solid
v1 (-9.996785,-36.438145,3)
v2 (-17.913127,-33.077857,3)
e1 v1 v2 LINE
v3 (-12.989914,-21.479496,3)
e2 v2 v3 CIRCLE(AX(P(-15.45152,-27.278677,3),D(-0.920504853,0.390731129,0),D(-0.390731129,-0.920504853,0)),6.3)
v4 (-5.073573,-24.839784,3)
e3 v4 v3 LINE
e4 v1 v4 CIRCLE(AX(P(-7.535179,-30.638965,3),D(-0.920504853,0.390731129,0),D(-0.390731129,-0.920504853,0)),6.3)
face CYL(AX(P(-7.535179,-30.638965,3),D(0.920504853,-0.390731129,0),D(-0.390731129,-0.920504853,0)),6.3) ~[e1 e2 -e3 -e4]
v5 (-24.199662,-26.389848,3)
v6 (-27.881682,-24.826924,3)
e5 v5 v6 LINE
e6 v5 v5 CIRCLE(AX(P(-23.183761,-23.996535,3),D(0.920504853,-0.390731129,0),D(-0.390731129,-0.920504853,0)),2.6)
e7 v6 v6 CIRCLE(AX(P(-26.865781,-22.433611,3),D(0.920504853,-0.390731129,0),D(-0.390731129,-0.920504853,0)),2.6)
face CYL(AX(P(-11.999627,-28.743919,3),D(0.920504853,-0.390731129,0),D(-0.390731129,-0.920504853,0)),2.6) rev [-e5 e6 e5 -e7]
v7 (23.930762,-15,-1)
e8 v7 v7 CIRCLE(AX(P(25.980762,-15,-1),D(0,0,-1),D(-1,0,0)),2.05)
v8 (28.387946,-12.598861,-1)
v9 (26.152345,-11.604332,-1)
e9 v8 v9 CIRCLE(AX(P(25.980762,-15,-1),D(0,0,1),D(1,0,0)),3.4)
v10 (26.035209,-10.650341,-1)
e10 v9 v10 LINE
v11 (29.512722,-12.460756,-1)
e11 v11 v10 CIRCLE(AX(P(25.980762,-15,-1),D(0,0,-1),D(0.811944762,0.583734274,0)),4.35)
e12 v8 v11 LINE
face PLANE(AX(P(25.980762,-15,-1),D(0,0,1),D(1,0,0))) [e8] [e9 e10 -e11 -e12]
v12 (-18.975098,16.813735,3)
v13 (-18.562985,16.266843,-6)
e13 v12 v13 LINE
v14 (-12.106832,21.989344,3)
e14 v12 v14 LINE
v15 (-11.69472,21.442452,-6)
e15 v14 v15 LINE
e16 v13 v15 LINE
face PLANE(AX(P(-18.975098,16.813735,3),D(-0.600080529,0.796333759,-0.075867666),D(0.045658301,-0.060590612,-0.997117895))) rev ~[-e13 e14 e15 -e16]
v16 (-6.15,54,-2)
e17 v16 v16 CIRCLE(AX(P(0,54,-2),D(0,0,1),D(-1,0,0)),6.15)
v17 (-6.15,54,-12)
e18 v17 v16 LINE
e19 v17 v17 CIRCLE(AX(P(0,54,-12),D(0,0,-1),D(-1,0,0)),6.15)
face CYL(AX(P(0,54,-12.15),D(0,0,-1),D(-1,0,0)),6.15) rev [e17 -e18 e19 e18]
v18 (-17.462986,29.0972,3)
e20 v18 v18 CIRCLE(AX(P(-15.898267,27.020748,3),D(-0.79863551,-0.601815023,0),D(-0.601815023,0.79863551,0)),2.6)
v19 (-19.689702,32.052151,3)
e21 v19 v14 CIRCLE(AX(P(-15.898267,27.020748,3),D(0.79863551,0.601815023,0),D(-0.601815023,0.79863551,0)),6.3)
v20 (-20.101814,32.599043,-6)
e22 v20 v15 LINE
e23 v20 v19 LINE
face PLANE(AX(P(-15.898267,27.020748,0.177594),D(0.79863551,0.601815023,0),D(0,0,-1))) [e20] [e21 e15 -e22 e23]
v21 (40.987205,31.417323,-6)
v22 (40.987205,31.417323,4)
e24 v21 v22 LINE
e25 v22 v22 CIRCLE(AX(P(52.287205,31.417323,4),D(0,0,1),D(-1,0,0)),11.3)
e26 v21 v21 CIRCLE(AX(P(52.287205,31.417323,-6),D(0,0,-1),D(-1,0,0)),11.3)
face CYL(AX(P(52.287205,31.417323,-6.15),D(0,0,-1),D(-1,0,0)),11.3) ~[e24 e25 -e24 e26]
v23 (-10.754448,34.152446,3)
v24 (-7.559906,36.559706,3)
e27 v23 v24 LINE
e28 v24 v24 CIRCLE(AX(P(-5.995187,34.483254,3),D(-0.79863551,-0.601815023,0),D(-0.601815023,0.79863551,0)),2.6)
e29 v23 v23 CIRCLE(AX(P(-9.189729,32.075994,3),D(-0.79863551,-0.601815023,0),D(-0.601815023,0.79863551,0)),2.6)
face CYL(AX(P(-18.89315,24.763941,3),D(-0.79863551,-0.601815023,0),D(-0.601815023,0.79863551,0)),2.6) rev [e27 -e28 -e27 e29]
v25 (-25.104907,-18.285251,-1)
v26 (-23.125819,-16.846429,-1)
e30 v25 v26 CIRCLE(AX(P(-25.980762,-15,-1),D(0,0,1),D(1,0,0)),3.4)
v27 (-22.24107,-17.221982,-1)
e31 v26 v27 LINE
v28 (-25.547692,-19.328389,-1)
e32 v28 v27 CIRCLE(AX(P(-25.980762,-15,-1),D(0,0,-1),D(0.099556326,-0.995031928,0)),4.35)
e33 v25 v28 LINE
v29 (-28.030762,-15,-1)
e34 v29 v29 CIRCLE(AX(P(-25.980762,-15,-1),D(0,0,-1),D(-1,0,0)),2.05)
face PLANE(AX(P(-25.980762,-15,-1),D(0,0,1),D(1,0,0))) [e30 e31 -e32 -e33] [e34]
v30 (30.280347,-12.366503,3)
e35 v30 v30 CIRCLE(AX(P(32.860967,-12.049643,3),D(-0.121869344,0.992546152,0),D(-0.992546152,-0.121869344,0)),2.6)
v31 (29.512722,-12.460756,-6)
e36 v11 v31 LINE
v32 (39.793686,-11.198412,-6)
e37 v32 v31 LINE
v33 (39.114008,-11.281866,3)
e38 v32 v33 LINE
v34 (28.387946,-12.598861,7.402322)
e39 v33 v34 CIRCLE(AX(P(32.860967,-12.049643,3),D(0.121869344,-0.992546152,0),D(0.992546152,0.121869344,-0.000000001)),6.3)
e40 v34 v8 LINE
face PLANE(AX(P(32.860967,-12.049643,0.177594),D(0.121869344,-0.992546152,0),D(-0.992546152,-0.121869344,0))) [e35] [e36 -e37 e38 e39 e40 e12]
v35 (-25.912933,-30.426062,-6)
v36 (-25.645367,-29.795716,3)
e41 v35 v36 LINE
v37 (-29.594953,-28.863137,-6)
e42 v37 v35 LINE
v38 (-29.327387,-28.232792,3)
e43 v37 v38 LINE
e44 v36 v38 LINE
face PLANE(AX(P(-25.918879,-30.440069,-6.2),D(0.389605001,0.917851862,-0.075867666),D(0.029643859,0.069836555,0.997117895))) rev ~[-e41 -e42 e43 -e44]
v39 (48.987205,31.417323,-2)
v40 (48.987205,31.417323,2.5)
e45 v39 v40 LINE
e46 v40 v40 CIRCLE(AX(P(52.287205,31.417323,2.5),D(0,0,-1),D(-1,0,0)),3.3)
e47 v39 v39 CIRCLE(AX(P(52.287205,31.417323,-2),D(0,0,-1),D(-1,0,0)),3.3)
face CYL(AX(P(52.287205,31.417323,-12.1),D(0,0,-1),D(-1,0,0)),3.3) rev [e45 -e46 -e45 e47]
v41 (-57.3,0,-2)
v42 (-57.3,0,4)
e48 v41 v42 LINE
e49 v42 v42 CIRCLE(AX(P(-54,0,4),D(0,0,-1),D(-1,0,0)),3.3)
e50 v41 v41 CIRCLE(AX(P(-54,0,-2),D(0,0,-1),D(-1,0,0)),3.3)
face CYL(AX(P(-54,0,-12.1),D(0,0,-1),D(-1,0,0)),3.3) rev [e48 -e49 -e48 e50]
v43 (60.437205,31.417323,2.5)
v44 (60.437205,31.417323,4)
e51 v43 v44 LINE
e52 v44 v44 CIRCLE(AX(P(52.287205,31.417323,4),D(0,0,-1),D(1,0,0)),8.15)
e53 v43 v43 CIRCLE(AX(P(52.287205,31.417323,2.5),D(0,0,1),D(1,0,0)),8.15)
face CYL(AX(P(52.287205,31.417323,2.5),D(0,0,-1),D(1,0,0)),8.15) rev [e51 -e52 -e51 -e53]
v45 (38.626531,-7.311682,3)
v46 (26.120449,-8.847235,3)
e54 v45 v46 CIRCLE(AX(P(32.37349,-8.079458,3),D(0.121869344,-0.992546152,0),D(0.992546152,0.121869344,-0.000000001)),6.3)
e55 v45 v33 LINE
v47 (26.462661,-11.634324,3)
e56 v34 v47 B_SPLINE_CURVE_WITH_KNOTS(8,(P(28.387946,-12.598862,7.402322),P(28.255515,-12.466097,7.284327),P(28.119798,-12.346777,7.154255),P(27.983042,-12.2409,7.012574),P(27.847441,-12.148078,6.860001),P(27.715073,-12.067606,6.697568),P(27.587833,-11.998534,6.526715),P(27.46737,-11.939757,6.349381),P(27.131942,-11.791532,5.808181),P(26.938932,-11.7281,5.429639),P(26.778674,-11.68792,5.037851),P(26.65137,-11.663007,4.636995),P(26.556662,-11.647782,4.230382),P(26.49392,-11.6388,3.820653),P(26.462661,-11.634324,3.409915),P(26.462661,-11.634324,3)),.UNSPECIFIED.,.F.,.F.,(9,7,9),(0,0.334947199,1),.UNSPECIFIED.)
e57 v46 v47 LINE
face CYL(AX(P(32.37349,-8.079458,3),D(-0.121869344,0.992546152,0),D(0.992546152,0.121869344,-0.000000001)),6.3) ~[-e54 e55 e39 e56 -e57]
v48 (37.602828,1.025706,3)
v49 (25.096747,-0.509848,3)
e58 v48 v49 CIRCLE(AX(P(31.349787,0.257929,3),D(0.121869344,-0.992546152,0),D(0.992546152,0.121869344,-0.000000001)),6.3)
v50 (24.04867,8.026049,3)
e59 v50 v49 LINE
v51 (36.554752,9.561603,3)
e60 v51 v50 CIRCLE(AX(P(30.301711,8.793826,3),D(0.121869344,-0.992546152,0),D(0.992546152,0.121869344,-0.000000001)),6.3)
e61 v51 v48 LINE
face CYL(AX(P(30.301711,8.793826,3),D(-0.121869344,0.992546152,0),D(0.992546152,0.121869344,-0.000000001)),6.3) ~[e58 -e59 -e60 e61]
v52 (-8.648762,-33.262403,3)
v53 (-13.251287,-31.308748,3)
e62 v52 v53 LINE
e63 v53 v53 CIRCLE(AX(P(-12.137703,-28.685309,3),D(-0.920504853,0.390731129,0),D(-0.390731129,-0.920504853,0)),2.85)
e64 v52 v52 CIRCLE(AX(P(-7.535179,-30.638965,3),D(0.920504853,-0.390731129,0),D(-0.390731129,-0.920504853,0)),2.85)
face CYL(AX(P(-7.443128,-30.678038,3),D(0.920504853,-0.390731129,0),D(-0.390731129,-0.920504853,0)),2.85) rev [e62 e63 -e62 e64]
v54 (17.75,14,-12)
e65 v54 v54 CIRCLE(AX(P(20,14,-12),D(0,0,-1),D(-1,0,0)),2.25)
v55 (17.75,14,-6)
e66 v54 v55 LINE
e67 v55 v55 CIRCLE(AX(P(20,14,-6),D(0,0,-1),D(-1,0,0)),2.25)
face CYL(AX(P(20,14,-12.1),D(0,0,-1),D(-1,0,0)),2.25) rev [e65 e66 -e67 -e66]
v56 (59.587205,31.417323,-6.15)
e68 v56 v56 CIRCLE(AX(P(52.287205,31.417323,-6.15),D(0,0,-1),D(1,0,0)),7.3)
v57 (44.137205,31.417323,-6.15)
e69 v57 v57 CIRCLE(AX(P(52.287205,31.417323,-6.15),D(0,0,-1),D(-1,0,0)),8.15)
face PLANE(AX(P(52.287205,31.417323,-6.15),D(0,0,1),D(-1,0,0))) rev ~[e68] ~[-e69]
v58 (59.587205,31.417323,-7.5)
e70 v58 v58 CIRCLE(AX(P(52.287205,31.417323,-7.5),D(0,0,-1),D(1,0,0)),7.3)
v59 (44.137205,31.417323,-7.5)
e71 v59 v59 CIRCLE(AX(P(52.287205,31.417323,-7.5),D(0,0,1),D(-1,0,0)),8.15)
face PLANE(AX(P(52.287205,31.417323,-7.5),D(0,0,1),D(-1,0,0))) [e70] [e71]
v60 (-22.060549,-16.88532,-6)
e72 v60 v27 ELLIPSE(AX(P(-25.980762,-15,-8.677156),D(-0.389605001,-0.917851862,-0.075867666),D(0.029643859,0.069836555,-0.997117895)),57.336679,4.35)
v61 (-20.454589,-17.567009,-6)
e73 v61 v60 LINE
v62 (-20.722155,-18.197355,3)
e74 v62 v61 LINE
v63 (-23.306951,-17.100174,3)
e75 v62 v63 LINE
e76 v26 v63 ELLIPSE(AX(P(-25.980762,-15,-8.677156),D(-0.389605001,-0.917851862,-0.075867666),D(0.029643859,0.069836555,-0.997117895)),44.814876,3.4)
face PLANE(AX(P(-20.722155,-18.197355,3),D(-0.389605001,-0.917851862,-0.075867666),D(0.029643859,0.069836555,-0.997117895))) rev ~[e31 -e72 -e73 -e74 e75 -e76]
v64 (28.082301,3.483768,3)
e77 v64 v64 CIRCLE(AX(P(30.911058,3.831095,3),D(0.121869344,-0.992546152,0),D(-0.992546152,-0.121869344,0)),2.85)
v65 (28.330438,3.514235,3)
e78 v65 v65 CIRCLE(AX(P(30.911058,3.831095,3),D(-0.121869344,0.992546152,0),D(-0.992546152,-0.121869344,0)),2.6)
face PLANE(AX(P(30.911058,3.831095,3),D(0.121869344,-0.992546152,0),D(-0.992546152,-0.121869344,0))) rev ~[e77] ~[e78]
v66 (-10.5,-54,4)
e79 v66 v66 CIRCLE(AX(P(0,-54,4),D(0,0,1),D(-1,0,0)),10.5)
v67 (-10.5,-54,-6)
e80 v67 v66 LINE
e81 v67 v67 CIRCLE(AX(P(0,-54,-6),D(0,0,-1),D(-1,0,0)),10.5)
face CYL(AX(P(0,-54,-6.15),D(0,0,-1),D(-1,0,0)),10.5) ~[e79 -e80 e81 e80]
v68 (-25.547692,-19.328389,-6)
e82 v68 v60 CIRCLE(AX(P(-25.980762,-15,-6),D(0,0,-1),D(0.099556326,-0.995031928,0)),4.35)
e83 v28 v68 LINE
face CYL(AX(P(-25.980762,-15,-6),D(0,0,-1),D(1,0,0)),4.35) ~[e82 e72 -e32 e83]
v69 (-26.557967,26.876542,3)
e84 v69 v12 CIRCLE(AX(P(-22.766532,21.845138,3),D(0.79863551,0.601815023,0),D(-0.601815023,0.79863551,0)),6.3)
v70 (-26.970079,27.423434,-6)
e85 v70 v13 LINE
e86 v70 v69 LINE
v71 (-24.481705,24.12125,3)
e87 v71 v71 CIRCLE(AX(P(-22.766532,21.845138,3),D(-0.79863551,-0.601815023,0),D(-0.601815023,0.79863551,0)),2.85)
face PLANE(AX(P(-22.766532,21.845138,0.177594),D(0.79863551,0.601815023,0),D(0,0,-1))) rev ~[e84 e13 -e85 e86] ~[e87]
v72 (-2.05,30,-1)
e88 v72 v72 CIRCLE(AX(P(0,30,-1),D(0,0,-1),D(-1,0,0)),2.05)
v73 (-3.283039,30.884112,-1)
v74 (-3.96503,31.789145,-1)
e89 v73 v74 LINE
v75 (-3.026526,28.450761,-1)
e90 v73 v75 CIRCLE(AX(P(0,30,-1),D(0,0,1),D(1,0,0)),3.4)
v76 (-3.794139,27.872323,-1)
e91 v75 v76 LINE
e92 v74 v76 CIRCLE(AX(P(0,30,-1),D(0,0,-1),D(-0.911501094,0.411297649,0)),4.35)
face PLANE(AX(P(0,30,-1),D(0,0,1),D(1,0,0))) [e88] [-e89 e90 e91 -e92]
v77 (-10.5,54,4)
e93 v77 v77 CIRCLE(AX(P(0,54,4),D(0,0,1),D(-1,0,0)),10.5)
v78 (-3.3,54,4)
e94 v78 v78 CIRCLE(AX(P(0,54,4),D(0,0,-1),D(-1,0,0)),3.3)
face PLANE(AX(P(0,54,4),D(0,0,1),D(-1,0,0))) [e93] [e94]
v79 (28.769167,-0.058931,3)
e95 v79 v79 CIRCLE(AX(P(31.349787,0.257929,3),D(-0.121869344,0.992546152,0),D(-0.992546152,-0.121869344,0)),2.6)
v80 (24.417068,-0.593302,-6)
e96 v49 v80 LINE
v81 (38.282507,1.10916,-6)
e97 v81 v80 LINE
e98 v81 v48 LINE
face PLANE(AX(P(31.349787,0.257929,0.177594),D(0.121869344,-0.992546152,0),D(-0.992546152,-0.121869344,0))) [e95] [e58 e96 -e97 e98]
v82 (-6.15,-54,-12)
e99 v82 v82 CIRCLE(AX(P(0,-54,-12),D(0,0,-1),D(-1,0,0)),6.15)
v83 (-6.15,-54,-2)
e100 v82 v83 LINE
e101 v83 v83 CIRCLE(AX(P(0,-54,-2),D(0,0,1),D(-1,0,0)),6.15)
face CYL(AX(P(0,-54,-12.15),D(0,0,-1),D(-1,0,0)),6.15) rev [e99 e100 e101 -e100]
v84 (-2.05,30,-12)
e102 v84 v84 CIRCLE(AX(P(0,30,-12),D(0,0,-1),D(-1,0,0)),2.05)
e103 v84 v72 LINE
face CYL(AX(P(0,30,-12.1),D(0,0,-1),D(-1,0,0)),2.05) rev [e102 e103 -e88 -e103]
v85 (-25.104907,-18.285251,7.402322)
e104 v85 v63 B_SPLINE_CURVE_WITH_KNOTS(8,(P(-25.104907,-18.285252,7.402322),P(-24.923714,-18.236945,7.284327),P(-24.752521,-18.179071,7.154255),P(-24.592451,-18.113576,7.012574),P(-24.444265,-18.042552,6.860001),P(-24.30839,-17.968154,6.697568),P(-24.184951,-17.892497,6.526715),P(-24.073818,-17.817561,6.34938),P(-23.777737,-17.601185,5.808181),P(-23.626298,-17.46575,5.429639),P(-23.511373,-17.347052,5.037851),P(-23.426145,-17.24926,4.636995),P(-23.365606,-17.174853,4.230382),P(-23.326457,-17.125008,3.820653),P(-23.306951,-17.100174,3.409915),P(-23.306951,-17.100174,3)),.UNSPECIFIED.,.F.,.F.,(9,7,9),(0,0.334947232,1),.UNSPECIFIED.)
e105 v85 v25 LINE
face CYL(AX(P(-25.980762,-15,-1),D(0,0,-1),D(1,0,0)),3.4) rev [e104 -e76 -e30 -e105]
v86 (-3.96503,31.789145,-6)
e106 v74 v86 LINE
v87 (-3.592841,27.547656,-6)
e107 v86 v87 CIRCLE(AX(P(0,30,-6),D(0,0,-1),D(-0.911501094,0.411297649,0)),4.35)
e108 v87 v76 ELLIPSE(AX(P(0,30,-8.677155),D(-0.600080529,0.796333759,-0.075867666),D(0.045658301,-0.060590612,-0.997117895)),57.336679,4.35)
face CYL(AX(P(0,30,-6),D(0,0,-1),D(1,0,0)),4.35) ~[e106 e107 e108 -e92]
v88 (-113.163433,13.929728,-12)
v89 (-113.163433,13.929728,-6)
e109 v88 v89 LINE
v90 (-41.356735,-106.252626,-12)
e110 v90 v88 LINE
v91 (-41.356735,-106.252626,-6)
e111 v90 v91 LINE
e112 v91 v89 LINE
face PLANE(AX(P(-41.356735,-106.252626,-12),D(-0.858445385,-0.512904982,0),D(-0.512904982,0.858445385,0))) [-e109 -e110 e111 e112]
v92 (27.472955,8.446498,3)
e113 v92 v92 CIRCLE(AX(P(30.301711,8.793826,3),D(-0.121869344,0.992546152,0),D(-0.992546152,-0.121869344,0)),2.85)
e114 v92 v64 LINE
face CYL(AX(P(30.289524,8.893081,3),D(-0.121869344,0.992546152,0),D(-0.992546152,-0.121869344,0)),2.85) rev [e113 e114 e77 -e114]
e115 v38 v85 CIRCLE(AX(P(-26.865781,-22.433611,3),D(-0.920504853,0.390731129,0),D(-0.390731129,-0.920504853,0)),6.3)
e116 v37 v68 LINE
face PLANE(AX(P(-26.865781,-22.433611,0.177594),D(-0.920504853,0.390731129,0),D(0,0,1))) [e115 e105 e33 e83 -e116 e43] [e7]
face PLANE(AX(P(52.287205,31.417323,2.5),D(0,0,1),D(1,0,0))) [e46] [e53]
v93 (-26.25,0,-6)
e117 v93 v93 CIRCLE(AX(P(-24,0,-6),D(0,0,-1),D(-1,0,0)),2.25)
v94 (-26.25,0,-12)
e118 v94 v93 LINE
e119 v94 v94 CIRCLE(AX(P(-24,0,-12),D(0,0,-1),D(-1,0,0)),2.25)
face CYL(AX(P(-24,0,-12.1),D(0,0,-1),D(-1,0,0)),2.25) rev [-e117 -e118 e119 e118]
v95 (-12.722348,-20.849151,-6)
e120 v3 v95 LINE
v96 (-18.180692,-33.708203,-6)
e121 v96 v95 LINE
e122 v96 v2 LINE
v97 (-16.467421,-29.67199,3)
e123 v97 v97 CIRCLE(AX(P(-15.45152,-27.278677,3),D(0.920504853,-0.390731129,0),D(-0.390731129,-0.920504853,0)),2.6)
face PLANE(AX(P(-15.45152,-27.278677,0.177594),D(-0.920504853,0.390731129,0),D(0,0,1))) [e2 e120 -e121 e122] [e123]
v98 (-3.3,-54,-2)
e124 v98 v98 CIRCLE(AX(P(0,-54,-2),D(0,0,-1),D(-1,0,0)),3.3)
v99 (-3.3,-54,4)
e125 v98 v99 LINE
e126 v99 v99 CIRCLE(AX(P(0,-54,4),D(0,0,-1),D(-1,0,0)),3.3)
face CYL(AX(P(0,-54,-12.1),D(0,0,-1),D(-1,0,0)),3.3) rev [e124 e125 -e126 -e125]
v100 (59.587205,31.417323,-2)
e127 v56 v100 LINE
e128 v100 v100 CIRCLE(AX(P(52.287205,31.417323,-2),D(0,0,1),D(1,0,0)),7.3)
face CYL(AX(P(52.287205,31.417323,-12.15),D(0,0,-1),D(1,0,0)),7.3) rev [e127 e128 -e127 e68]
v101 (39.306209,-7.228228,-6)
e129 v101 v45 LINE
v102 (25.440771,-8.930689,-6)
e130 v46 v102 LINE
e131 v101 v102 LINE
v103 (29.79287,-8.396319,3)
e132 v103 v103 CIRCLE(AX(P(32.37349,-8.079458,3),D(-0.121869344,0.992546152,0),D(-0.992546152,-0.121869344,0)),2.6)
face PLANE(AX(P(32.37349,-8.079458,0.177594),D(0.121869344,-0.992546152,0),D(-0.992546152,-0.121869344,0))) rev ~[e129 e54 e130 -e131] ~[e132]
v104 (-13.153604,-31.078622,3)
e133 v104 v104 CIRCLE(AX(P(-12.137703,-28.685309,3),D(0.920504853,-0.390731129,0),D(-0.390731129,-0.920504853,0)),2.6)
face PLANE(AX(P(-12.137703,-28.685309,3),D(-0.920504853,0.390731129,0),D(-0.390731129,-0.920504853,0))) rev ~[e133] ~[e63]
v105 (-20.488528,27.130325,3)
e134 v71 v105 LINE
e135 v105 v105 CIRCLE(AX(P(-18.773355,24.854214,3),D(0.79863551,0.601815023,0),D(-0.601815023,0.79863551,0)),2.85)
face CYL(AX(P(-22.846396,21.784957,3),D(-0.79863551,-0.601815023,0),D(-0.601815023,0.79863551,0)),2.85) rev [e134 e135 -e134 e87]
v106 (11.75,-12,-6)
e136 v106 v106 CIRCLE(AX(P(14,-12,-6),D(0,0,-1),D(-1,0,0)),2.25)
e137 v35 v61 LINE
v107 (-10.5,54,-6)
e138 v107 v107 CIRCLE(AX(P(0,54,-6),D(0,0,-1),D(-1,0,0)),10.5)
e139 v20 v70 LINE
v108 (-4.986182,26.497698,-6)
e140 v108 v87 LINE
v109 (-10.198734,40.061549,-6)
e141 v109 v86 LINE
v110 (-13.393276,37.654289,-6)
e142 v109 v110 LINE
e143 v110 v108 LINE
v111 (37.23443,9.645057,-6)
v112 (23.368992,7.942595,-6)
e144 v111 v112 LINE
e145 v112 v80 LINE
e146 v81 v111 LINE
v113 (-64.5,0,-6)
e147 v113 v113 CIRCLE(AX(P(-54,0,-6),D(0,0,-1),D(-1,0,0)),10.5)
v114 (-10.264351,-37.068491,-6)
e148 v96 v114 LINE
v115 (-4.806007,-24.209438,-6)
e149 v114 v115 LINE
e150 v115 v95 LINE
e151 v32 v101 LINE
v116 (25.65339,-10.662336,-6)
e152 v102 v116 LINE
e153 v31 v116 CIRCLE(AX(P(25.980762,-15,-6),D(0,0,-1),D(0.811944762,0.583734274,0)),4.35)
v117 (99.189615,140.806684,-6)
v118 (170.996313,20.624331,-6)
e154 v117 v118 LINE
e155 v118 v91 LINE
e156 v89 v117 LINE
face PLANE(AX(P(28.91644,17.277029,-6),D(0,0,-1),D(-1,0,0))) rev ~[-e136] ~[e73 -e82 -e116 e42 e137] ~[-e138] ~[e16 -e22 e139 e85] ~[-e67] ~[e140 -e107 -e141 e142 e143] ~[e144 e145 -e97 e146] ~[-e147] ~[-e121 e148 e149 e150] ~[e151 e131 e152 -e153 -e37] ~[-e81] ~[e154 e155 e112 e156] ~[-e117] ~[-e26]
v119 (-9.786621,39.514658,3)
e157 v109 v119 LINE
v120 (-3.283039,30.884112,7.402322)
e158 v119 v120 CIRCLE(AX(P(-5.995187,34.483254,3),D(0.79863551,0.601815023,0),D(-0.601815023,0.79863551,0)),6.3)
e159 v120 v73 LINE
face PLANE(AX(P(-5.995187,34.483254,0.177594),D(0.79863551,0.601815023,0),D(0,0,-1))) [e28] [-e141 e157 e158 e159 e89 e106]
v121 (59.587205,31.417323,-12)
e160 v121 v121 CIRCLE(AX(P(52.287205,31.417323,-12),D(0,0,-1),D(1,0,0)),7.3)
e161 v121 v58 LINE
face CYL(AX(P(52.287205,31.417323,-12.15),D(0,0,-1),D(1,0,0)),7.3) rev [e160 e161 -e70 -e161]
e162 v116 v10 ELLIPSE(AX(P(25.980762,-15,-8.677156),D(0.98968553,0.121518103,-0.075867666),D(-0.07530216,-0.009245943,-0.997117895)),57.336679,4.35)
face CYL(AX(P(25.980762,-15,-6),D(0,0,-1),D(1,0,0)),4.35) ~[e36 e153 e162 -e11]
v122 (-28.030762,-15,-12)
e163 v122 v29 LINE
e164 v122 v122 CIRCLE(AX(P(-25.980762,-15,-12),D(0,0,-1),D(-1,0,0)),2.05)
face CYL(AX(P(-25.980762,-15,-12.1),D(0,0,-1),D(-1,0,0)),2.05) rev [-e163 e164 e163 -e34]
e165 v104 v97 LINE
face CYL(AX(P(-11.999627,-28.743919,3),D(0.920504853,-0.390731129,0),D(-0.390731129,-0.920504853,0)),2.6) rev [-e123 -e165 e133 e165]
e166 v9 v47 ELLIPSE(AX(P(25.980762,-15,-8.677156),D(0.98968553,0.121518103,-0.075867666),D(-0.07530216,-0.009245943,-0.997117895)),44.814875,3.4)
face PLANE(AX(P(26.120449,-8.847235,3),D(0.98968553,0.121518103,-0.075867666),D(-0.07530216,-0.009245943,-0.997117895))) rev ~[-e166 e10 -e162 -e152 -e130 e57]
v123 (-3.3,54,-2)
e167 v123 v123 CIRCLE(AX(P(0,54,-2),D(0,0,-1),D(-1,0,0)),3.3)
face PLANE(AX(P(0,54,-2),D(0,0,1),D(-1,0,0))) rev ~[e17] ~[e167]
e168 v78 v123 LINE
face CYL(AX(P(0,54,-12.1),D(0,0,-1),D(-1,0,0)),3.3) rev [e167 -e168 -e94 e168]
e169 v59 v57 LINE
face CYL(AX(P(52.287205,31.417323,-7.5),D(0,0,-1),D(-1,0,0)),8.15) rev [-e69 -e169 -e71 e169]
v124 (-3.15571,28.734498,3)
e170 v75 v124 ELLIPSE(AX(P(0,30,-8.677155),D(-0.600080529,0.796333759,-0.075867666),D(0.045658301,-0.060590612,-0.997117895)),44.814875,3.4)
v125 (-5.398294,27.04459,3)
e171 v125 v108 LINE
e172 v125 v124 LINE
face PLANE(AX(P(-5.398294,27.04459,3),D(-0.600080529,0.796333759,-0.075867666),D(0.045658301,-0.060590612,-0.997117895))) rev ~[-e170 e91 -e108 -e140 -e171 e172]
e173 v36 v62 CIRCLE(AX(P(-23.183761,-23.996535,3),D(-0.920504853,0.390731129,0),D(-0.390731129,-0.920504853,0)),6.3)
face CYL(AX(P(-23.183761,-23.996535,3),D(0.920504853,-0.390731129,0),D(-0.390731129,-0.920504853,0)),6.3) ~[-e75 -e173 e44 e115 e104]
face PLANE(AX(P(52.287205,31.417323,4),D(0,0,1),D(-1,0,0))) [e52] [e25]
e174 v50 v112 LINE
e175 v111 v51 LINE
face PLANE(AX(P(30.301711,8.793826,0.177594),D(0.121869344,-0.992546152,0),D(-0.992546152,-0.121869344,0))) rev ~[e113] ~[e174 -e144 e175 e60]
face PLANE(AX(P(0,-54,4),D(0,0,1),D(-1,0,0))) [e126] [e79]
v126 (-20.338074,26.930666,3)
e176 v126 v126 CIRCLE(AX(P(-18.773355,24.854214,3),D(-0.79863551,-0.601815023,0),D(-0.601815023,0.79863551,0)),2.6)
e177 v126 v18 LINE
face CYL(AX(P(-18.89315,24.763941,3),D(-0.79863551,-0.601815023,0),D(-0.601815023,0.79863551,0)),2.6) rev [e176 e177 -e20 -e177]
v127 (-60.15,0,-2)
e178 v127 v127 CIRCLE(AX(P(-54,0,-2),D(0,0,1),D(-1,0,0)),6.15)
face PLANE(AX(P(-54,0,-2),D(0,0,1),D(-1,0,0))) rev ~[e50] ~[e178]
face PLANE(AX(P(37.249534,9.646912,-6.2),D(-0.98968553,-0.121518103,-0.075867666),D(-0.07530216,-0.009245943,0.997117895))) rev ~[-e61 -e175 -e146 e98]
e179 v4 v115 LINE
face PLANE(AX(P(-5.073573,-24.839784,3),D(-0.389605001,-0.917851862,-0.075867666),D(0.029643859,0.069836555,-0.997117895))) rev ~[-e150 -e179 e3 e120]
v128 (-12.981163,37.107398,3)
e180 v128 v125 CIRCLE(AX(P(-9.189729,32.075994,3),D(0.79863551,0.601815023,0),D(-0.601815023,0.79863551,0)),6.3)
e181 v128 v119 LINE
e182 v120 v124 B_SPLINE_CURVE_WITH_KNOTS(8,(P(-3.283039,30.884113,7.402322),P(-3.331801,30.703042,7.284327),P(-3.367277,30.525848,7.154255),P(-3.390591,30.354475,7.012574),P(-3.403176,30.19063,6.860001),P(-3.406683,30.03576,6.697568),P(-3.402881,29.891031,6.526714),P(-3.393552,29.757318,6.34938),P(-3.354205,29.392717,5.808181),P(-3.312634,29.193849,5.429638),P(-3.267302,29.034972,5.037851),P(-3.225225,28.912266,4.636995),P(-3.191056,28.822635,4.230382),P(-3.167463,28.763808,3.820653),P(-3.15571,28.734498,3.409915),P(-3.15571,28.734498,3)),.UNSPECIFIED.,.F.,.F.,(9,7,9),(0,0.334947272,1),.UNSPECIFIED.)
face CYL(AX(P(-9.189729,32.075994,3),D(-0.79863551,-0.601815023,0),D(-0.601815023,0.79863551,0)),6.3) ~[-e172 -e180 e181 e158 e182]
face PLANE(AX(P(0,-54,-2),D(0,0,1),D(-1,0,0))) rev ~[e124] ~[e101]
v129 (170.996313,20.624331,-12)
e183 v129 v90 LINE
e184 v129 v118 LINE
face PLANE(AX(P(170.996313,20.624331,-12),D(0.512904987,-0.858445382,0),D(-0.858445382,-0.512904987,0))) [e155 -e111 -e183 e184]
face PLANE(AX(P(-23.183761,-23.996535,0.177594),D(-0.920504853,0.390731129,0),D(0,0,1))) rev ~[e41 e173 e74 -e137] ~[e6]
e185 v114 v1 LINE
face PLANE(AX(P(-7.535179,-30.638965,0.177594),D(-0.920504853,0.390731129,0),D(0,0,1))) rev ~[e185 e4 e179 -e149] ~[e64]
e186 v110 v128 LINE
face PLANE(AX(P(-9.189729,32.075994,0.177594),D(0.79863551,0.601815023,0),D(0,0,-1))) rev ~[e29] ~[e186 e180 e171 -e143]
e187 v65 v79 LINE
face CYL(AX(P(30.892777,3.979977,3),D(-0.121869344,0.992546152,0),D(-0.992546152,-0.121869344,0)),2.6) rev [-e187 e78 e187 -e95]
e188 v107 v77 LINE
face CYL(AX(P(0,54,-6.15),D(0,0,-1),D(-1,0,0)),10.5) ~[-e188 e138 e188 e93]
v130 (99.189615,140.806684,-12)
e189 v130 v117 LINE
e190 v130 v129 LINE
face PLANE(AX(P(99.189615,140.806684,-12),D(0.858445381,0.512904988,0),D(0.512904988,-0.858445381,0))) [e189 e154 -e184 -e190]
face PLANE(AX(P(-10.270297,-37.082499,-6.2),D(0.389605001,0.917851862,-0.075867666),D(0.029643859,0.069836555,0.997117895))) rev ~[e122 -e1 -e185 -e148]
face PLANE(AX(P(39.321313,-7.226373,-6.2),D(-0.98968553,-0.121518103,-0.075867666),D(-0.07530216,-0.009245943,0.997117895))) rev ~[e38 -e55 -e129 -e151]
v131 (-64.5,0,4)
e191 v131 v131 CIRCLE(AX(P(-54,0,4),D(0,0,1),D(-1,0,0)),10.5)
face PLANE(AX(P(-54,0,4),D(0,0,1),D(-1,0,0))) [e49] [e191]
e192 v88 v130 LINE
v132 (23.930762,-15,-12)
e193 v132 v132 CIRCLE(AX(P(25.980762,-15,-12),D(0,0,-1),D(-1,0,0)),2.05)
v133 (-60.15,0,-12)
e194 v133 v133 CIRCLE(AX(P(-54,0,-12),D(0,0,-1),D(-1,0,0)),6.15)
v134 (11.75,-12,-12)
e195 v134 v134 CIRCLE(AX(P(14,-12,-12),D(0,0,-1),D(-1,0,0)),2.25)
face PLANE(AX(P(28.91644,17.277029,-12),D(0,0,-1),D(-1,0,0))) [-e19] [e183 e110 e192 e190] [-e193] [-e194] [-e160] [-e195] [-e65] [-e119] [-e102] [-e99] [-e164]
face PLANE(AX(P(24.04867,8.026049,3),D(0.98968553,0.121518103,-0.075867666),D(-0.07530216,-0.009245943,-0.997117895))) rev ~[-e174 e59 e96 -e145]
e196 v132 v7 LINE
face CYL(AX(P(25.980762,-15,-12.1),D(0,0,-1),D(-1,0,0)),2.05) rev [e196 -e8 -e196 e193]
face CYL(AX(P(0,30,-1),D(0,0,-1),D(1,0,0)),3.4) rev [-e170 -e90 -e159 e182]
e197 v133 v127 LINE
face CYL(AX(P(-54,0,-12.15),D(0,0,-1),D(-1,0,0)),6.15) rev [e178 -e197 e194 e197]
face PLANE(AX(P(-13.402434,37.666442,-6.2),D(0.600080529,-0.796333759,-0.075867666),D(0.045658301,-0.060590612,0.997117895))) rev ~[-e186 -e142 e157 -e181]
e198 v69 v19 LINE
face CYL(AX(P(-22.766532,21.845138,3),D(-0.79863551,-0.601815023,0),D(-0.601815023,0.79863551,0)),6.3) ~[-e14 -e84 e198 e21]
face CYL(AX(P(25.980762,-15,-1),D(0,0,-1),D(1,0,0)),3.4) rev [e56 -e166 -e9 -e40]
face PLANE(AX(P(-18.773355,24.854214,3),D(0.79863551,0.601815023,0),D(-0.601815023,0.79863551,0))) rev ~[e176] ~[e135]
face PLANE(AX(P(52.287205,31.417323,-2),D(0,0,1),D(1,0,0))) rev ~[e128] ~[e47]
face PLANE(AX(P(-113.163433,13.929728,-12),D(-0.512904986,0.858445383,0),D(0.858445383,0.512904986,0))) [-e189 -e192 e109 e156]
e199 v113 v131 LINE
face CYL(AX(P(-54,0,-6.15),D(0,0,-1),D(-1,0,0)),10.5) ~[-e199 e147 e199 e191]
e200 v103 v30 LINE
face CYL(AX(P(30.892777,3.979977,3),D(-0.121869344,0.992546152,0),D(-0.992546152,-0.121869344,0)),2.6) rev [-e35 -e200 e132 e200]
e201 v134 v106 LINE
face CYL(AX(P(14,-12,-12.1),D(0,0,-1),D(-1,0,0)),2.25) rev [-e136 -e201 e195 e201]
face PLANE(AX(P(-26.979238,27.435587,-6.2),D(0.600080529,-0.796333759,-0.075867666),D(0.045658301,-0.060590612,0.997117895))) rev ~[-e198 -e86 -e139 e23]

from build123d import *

# Parameters (mm, degrees)
F_01_START                                    = -12
F_01_PULLED_END_PLATE_OUTLINE_DEPTH           = 6
F_02_START                                    = -12.1
S02_CAGE_AND_TRACK_MOUNTING_HOLES_M6_R        = 3.3
F_02_CAGE_AND_TRACK_MOUNTING_HOLES_M6_DEPTH   = 6.2
F_03_START                                    = -12.1
S03_RESERVED_CASSETTE_PATTERN_M4_R            = 2.25
F_03_RESERVED_CASSETTE_PATTERN_M4_DEPTH       = 6.2
F_04_START                                    = -7.5
S04_TRACK_POST_LOCATING_SEAT_R                = 8.15
F_04_TRACK_POST_LOCATING_SEAT_DEPTH           = 1.6
F_05_START                                    = -6
S05_THREE_TENDON_GUIDE_BOSSES_R               = 4.35
F_05_THREE_TENDON_GUIDE_BOSSES_DEPTH          = 5
F_06_START                                    = 4.2
F_06_PIVOT_1_NEAR_CHEEK_DEPTH                 = 4
F_07_START                                    = -12.8
F_07_PIVOT_1_INSERT_CHEEK_DEPTH               = 8.6
F_08_START                                    = -12.9
S08_PIVOT_1_PIN_PILOT_R                       = 2.1
F_08_PIVOT_1_PIN_PILOT_DEPTH                  = 21.2
F_09_START                                    = -7.95
S09_PIVOT_1_SMOOTH_SHOULDER_BEARING_R         = 2.6
F_09_PIVOT_1_SMOOTH_SHOULDER_BEARING_DEPTH    = 16.25
F_10_START                                    = -12.9
S10_PIVOT_1_M4_SHORT_INSERT_SEAT_R            = 2.85
F_10_PIVOT_1_M4_SHORT_INSERT_SEAT_DEPTH       = 5.1
F_11_START                                    = 4.2
F_11_PIVOT_2_NEAR_CHEEK_DEPTH                 = 4
F_12_START                                    = -12.8
F_12_PIVOT_2_INSERT_CHEEK_DEPTH               = 8.6
F_13_START                                    = -12.9
S13_PIVOT_2_PIN_PILOT_R                       = 2.1
F_13_PIVOT_2_PIN_PILOT_DEPTH                  = 21.2
F_14_START                                    = -7.95
S14_PIVOT_2_SMOOTH_SHOULDER_BEARING_R         = 2.6
F_14_PIVOT_2_SMOOTH_SHOULDER_BEARING_DEPTH    = 16.25
F_15_START                                    = -12.9
S15_PIVOT_2_M4_SHORT_INSERT_SEAT_R            = 2.85
F_15_PIVOT_2_M4_SHORT_INSERT_SEAT_DEPTH       = 5.1
F_16_START                                    = 4.2
F_16_PIVOT_3_NEAR_CHEEK_DEPTH                 = 4
F_17_START                                    = -12.8
F_17_PIVOT_3_INSERT_CHEEK_DEPTH               = 8.6
F_18_START                                    = -12.9
S18_PIVOT_3_PIN_PILOT_R                       = 2.1
F_18_PIVOT_3_PIN_PILOT_DEPTH                  = 21.2
F_19_START                                    = -7.95
S19_PIVOT_3_SMOOTH_SHOULDER_BEARING_R         = 2.6
F_19_PIVOT_3_SMOOTH_SHOULDER_BEARING_DEPTH    = 16.25
F_20_START                                    = -12.9
S20_PIVOT_3_M4_SHORT_INSERT_SEAT_R            = 2.85
F_20_PIVOT_3_M4_SHORT_INSERT_SEAT_DEPTH       = 5.1
F_21_START                                    = -12.1
S21_TENDON_EYELET_SEATS_R                     = 2.05
F_21_TENDON_EYELET_SEATS_DEPTH                = 11.2
F_22_START                                    = -1
S22_CLEAR_THE_THREE_EYELET_FLANGES_AND_R      = 3.4
F_22_CLEAR_THE_THREE_EYELET_FLANGES_AND_DEPTH = 12
F_01_START_2                                  = -6.15
S01_RAISED_CAGE_SEATS_10_MM_R                 = 10.5
S01_RAISED_CAGE_SEATS_10_MM_R_2               = 11.3
F_01_RAISED_CAGE_SEATS_10_MM_DEPTH            = 10.15
S02_CAGE_SCREW_THROUGH_HOLES_R                = 3.3
F_02_CAGE_SCREW_THROUGH_HOLES_DEPTH           = 16.2
F_03_START_2                                  = -12.15
S03_RECESSED_FRAME_SCREW_HEAD_SEATS_R         = 6.15
F_03_RECESSED_FRAME_SCREW_HEAD_SEATS_DEPTH    = 10.15
F_04_START_2                                  = -12.15
S04_RECESSED_TRACK_POST_WASHER_SEAT_R         = 7.3
F_04_RECESSED_TRACK_POST_WASHER_SEAT_DEPTH    = 10.15
F_05_START_2                                  = 2.5
S05_TRACK_POST_LOCATION_REGISTER_R            = 8.15
F_05_TRACK_POST_LOCATION_REGISTER_DEPTH       = 1.6


with BuildPart() as part:
    # S01 - Pulled end plate outline → 01 - Pulled end plate outline (new body)
    with BuildSketch(Plane.XY.offset(F_01_START)):
        Polygon((170.996313, 20.6243307), (-41.3567354, -106.252626), (-113.163433, 13.929728), (99.1896147, 140.806684), align=None)
    extrude(amount=F_01_PULLED_END_PLATE_OUTLINE_DEPTH)

    # S02 - Cage and track mounting holes - M6 → 02 - Cage and track mounting holes - M6 (cut)
    with BuildSketch(Plane.XY.offset(F_02_START)):
        with Locations((0, 54)):
            Circle(S02_CAGE_AND_TRACK_MOUNTING_HOLES_M6_R)
        with Locations((-54, 0)):
            Circle(S02_CAGE_AND_TRACK_MOUNTING_HOLES_M6_R)
        with Locations((0, -54)):
            Circle(S02_CAGE_AND_TRACK_MOUNTING_HOLES_M6_R)
        with Locations((52.287205346, 31.41732257)):
            Circle(S02_CAGE_AND_TRACK_MOUNTING_HOLES_M6_R)
    extrude(amount=F_02_CAGE_AND_TRACK_MOUNTING_HOLES_M6_DEPTH, mode=Mode.SUBTRACT)

    # S03 - Reserved cassette pattern - M4 → 03 - Reserved cassette pattern - M4 (cut)
    with BuildSketch(Plane.XY.offset(F_03_START)):
        with Locations((14, -12)):
            Circle(S03_RESERVED_CASSETTE_PATTERN_M4_R)
        with Locations((20, 14)):
            Circle(S03_RESERVED_CASSETTE_PATTERN_M4_R)
        with Locations((-24, 0)):
            Circle(S03_RESERVED_CASSETTE_PATTERN_M4_R)
    extrude(amount=F_03_RESERVED_CASSETTE_PATTERN_M4_DEPTH, mode=Mode.SUBTRACT)

    # S04 - Track post locating seat → 04 - Track post locating seat (cut)
    with BuildSketch(Plane.XY.offset(F_04_START)):
        with Locations((52.287205346, 31.41732257)):
            Circle(S04_TRACK_POST_LOCATING_SEAT_R)
    extrude(amount=F_04_TRACK_POST_LOCATING_SEAT_DEPTH, mode=Mode.SUBTRACT)

    # S05 - Three tendon guide bosses → 05 - Three tendon guide bosses (add)
    with BuildSketch(Plane.XY.offset(F_05_START)):
        with Locations((25.980762114, -15)):
            Circle(S05_THREE_TENDON_GUIDE_BOSSES_R)
        with Locations((0, 30)):
            Circle(S05_THREE_TENDON_GUIDE_BOSSES_R)
        with Locations((-25.980762114, -15)):
            Circle(S05_THREE_TENDON_GUIDE_BOSSES_R)
    extrude(amount=F_05_THREE_TENDON_GUIDE_BOSSES_DEPTH)

    # S06 - Pivot 1 - near cheek → 06 - Pivot 1 - near cheek (add)
    with BuildSketch(Plane(origin=(0.946263216, -7.706695423, 0), x_dir=(-0.9925461516079791, -0.12186934367670445, 0), z_dir=(0.12186934367670443, -0.992546151607979, 0)).offset(F_06_START)):
        with BuildLine():
            Line((-24.147544543, 6.2), (-38.147544535, 6.2))
            Line((-38.147544535, 6.2), (-37.447544535, -3))
            ThreePointArc((-37.447544535, -3), (-31.147544539, -9.3), (-24.847544543, -3))
            Line((-24.847544543, -3), (-24.147544543, 6.2))
        make_face()
    extrude(amount=F_06_PIVOT_1_NEAR_CHEEK_DEPTH)

    # S07 - Pivot 1 - insert cheek → 07 - Pivot 1 - insert cheek (add)
    with BuildSketch(Plane(origin=(0.946263216, -7.706695423, 0), x_dir=(-0.9925461516079791, -0.12186934367670445, 0), z_dir=(0.12186934367670443, -0.992546151607979, 0)).offset(F_07_START)):
        with BuildLine():
            Line((-24.147544543, 6.2), (-38.147544535, 6.2))
            Line((-38.147544535, 6.2), (-37.447544535, -3))
            ThreePointArc((-37.447544535, -3), (-31.147544539, -9.3), (-24.847544543, -3))
            Line((-24.847544543, -3), (-24.147544543, 6.2))
        make_face()
    extrude(amount=F_07_PIVOT_1_INSERT_CHEEK_DEPTH)

    # S08 - Pivot 1 - pin pilot → 08 - Pivot 1 - pin pilot (cut)
    with BuildSketch(Plane(origin=(0.946263216, -7.706695423, 0), x_dir=(-0.9925461516079791, -0.12186934367670445, 0), z_dir=(0.12186934367670443, -0.992546151607979, 0)).offset(F_08_START)):
        with Locations((-31.147544539, -3)):
            Circle(S08_PIVOT_1_PIN_PILOT_R)
    extrude(amount=F_08_PIVOT_1_PIN_PILOT_DEPTH, mode=Mode.SUBTRACT)

    # S09 - Pivot 1 - smooth shoulder bearing → 09 - Pivot 1 - smooth shoulder bearing (cut)
    with BuildSketch(Plane(origin=(0.946263216, -7.706695423, 0), x_dir=(-0.9925461516079791, -0.12186934367670445, 0), z_dir=(0.12186934367670443, -0.992546151607979, 0)).offset(F_09_START)):
        with Locations((-31.147544539, -3)):
            Circle(S09_PIVOT_1_SMOOTH_SHOULDER_BEARING_R)
    extrude(amount=F_09_PIVOT_1_SMOOTH_SHOULDER_BEARING_DEPTH, mode=Mode.SUBTRACT)

    # S10 - Pivot 1 - M4 short insert seat → 10 - Pivot 1 - M4 short insert seat (cut)
    with BuildSketch(Plane(origin=(0.946263216, -7.706695423, 0), x_dir=(-0.9925461516079791, -0.12186934367670445, 0), z_dir=(0.12186934367670443, -0.992546151607979, 0)).offset(F_10_START)):
        with Locations((-31.147544539, -3)):
            Circle(S10_PIVOT_1_M4_SHORT_INSERT_SEAT_R)
    extrude(amount=F_10_PIVOT_1_M4_SHORT_INSERT_SEAT_DEPTH, mode=Mode.SUBTRACT)

    # S11 - Pivot 2 - near cheek → 11 - Pivot 2 - near cheek (add)
    with BuildSketch(Plane(origin=(6.201062381, 4.672835668, 0), x_dir=(0, 0, -1), z_dir=(0.7986355103156061, 0.6018150227959849, 0)).offset(F_11_START)):
        with BuildLine():
            Line((6.2, 24.14754453), (6.2, 38.147544534))
            Line((6.2, 38.147544534), (-3, 37.447544534))
            ThreePointArc((-3, 37.447544534), (-9.3, 31.147544532), (-3, 24.84754453))
            Line((-3, 24.84754453), (6.2, 24.14754453))
        make_face()
    extrude(amount=F_11_PIVOT_2_NEAR_CHEEK_DEPTH)

    # S12 - Pivot 2 - insert cheek → 12 - Pivot 2 - insert cheek (add)
    with BuildSketch(Plane(origin=(6.201062381, 4.672835668, 0), x_dir=(0, 0, -1), z_dir=(0.7986355103156061, 0.6018150227959849, 0)).offset(F_12_START)):
        with BuildLine():
            Line((6.2, 24.14754453), (6.2, 38.147544534))
            Line((6.2, 38.147544534), (-3, 37.447544534))
            ThreePointArc((-3, 37.447544534), (-9.3, 31.147544532), (-3, 24.84754453))
            Line((-3, 24.84754453), (6.2, 24.14754453))
        make_face()
    extrude(amount=F_12_PIVOT_2_INSERT_CHEEK_DEPTH)

    # S13 - Pivot 2 - pin pilot → 13 - Pivot 2 - pin pilot (cut)
    with BuildSketch(Plane(origin=(6.201062381, 4.672835668, 0), x_dir=(0, 0, -1), z_dir=(0.7986355103156061, 0.6018150227959849, 0)).offset(F_13_START)):
        with Locations((-3, 31.147544532)):
            Circle(S13_PIVOT_2_PIN_PILOT_R)
    extrude(amount=F_13_PIVOT_2_PIN_PILOT_DEPTH, mode=Mode.SUBTRACT)

    # S14 - Pivot 2 - smooth shoulder bearing → 14 - Pivot 2 - smooth shoulder bearing (cut)
    with BuildSketch(Plane(origin=(6.201062381, 4.672835668, 0), x_dir=(0, 0, -1), z_dir=(0.7986355103156061, 0.6018150227959849, 0)).offset(F_14_START)):
        with Locations((-3, 31.147544532)):
            Circle(S14_PIVOT_2_SMOOTH_SHOULDER_BEARING_R)
    extrude(amount=F_14_PIVOT_2_SMOOTH_SHOULDER_BEARING_DEPTH, mode=Mode.SUBTRACT)

    # S15 - Pivot 2 - M4 short insert seat → 15 - Pivot 2 - M4 short insert seat (cut)
    with BuildSketch(Plane(origin=(6.201062381, 4.672835668, 0), x_dir=(0, 0, -1), z_dir=(0.7986355103156061, 0.6018150227959849, 0)).offset(F_15_START)):
        with Locations((-3, 31.147544532)):
            Circle(S15_PIVOT_2_M4_SHORT_INSERT_SEAT_R)
    extrude(amount=F_15_PIVOT_2_M4_SHORT_INSERT_SEAT_DEPTH, mode=Mode.SUBTRACT)

    # S16 - Pivot 3 - near cheek → 16 - Pivot 3 - near cheek (add)
    with BuildSketch(Plane(origin=(-7.147325625, 3.033859732, 0), x_dir=(0, 0, 1), z_dir=(-0.9205048534161142, 0.39073112857485304, 0)).offset(F_16_START)):
        with BuildLine():
            Line((-6.2, -24.147544532), (-6.2, -38.14754453))
            Line((-6.2, -38.14754453), (3, -37.44754453))
            ThreePointArc((3, -37.44754453), (9.3, -31.147544531), (3, -24.847544531))
            Line((3, -24.847544531), (-6.2, -24.147544532))
        make_face()
    extrude(amount=F_16_PIVOT_3_NEAR_CHEEK_DEPTH)

    # S17 - Pivot 3 - insert cheek → 17 - Pivot 3 - insert cheek (add)
    with BuildSketch(Plane(origin=(-7.147325625, 3.033859732, 0), x_dir=(0, 0, 1), z_dir=(-0.9205048534161142, 0.39073112857485304, 0)).offset(F_17_START)):
        with BuildLine():
            Line((-6.2, -24.147544532), (-6.2, -38.14754453))
            Line((-6.2, -38.14754453), (3, -37.44754453))
            ThreePointArc((3, -37.44754453), (9.3, -31.147544531), (3, -24.847544531))
            Line((3, -24.847544531), (-6.2, -24.147544532))
        make_face()
    extrude(amount=F_17_PIVOT_3_INSERT_CHEEK_DEPTH)

    # S18 - Pivot 3 - pin pilot → 18 - Pivot 3 - pin pilot (cut)
    with BuildSketch(Plane(origin=(-7.147325625, 3.033859732, 0), x_dir=(0, 0, 1), z_dir=(-0.9205048534161142, 0.39073112857485304, 0)).offset(F_18_START)):
        with Locations((3, -31.147544531)):
            Circle(S18_PIVOT_3_PIN_PILOT_R)
    extrude(amount=F_18_PIVOT_3_PIN_PILOT_DEPTH, mode=Mode.SUBTRACT)

    # S19 - Pivot 3 - smooth shoulder bearing → 19 - Pivot 3 - smooth shoulder bearing (cut)
    with BuildSketch(Plane(origin=(-7.147325625, 3.033859732, 0), x_dir=(0, 0, 1), z_dir=(-0.9205048534161142, 0.39073112857485304, 0)).offset(F_19_START)):
        with Locations((3, -31.147544531)):
            Circle(S19_PIVOT_3_SMOOTH_SHOULDER_BEARING_R)
    extrude(amount=F_19_PIVOT_3_SMOOTH_SHOULDER_BEARING_DEPTH, mode=Mode.SUBTRACT)

    # S20 - Pivot 3 - M4 short insert seat → 20 - Pivot 3 - M4 short insert seat (cut)
    with BuildSketch(Plane(origin=(-7.147325625, 3.033859732, 0), x_dir=(0, 0, 1), z_dir=(-0.9205048534161142, 0.39073112857485304, 0)).offset(F_20_START)):
        with Locations((3, -31.147544531)):
            Circle(S20_PIVOT_3_M4_SHORT_INSERT_SEAT_R)
    extrude(amount=F_20_PIVOT_3_M4_SHORT_INSERT_SEAT_DEPTH, mode=Mode.SUBTRACT)

    # S21 - Tendon eyelet seats → 21 - Tendon eyelet seats (cut)
    with BuildSketch(Plane.XY.offset(F_21_START)):
        with Locations((25.980762114, -15)):
            Circle(S21_TENDON_EYELET_SEATS_R)
        with Locations((0, 30)):
            Circle(S21_TENDON_EYELET_SEATS_R)
        with Locations((-25.980762114, -15)):
            Circle(S21_TENDON_EYELET_SEATS_R)
    extrude(amount=F_21_TENDON_EYELET_SEATS_DEPTH, mode=Mode.SUBTRACT)

    # S22 - Clear the three eyelet flanges and cord exits → 22 - Clear the three eyelet flanges and cord exits (cut)
    with BuildSketch(Plane.XY.offset(F_22_START)):
        with Locations((25.980762114, -15)):
            Circle(S22_CLEAR_THE_THREE_EYELET_FLANGES_AND_R)
        with Locations((0, 30)):
            Circle(S22_CLEAR_THE_THREE_EYELET_FLANGES_AND_R)
        with Locations((-25.980762114, -15)):
            Circle(S22_CLEAR_THE_THREE_EYELET_FLANGES_AND_R)
    extrude(amount=F_22_CLEAR_THE_THREE_EYELET_FLANGES_AND_DEPTH, mode=Mode.SUBTRACT)

    # S01 - Raised cage seats - 10 mm → 01 - Raised cage seats - 10 mm (add)
    with BuildSketch(Plane.XY.offset(F_01_START_2)):
        with Locations((0, 54)):
            Circle(S01_RAISED_CAGE_SEATS_10_MM_R)
        with Locations((-54, 0)):
            Circle(S01_RAISED_CAGE_SEATS_10_MM_R)
        with Locations((0, -54)):
            Circle(S01_RAISED_CAGE_SEATS_10_MM_R)
        with Locations((52.287205346, 31.41732257)):
            Circle(S01_RAISED_CAGE_SEATS_10_MM_R_2)
    extrude(amount=F_01_RAISED_CAGE_SEATS_10_MM_DEPTH)

    # S02 - Cage screw through holes → 02 - Cage screw through holes (cut)
    with BuildSketch(Plane.XY.offset(F_02_START)):
        with Locations((0, 54)):
            Circle(S02_CAGE_SCREW_THROUGH_HOLES_R)
        with Locations((-54, 0)):
            Circle(S02_CAGE_SCREW_THROUGH_HOLES_R)
        with Locations((0, -54)):
            Circle(S02_CAGE_SCREW_THROUGH_HOLES_R)
        with Locations((52.287205346, 31.41732257)):
            Circle(S02_CAGE_SCREW_THROUGH_HOLES_R)
    extrude(amount=F_02_CAGE_SCREW_THROUGH_HOLES_DEPTH, mode=Mode.SUBTRACT)

    # S03 - Recessed frame screw head seats → 03 - Recessed frame screw head seats (cut)
    with BuildSketch(Plane.XY.offset(F_03_START_2)):
        with Locations((0, 54)):
            Circle(S03_RECESSED_FRAME_SCREW_HEAD_SEATS_R)
        with Locations((-54, 0)):
            Circle(S03_RECESSED_FRAME_SCREW_HEAD_SEATS_R)
        with Locations((0, -54)):
            Circle(S03_RECESSED_FRAME_SCREW_HEAD_SEATS_R)
    extrude(amount=F_03_RECESSED_FRAME_SCREW_HEAD_SEATS_DEPTH, mode=Mode.SUBTRACT)

    # S04 - Recessed track post washer seat → 04 - Recessed track post washer seat (cut)
    with BuildSketch(Plane.XY.offset(F_04_START_2)):
        with Locations((52.287205346, 31.41732257)):
            Circle(S04_RECESSED_TRACK_POST_WASHER_SEAT_R)
    extrude(amount=F_04_RECESSED_TRACK_POST_WASHER_SEAT_DEPTH, mode=Mode.SUBTRACT)

    # S05 - Track post location register → 05 - Track post location register (cut)
    with BuildSketch(Plane.XY.offset(F_05_START_2)):
        with Locations((52.287205346, 31.41732257)):
            Circle(S05_TRACK_POST_LOCATION_REGISTER_R)
    extrude(amount=F_05_TRACK_POST_LOCATION_REGISTER_DEPTH, mode=Mode.SUBTRACT)


solid = part.part
